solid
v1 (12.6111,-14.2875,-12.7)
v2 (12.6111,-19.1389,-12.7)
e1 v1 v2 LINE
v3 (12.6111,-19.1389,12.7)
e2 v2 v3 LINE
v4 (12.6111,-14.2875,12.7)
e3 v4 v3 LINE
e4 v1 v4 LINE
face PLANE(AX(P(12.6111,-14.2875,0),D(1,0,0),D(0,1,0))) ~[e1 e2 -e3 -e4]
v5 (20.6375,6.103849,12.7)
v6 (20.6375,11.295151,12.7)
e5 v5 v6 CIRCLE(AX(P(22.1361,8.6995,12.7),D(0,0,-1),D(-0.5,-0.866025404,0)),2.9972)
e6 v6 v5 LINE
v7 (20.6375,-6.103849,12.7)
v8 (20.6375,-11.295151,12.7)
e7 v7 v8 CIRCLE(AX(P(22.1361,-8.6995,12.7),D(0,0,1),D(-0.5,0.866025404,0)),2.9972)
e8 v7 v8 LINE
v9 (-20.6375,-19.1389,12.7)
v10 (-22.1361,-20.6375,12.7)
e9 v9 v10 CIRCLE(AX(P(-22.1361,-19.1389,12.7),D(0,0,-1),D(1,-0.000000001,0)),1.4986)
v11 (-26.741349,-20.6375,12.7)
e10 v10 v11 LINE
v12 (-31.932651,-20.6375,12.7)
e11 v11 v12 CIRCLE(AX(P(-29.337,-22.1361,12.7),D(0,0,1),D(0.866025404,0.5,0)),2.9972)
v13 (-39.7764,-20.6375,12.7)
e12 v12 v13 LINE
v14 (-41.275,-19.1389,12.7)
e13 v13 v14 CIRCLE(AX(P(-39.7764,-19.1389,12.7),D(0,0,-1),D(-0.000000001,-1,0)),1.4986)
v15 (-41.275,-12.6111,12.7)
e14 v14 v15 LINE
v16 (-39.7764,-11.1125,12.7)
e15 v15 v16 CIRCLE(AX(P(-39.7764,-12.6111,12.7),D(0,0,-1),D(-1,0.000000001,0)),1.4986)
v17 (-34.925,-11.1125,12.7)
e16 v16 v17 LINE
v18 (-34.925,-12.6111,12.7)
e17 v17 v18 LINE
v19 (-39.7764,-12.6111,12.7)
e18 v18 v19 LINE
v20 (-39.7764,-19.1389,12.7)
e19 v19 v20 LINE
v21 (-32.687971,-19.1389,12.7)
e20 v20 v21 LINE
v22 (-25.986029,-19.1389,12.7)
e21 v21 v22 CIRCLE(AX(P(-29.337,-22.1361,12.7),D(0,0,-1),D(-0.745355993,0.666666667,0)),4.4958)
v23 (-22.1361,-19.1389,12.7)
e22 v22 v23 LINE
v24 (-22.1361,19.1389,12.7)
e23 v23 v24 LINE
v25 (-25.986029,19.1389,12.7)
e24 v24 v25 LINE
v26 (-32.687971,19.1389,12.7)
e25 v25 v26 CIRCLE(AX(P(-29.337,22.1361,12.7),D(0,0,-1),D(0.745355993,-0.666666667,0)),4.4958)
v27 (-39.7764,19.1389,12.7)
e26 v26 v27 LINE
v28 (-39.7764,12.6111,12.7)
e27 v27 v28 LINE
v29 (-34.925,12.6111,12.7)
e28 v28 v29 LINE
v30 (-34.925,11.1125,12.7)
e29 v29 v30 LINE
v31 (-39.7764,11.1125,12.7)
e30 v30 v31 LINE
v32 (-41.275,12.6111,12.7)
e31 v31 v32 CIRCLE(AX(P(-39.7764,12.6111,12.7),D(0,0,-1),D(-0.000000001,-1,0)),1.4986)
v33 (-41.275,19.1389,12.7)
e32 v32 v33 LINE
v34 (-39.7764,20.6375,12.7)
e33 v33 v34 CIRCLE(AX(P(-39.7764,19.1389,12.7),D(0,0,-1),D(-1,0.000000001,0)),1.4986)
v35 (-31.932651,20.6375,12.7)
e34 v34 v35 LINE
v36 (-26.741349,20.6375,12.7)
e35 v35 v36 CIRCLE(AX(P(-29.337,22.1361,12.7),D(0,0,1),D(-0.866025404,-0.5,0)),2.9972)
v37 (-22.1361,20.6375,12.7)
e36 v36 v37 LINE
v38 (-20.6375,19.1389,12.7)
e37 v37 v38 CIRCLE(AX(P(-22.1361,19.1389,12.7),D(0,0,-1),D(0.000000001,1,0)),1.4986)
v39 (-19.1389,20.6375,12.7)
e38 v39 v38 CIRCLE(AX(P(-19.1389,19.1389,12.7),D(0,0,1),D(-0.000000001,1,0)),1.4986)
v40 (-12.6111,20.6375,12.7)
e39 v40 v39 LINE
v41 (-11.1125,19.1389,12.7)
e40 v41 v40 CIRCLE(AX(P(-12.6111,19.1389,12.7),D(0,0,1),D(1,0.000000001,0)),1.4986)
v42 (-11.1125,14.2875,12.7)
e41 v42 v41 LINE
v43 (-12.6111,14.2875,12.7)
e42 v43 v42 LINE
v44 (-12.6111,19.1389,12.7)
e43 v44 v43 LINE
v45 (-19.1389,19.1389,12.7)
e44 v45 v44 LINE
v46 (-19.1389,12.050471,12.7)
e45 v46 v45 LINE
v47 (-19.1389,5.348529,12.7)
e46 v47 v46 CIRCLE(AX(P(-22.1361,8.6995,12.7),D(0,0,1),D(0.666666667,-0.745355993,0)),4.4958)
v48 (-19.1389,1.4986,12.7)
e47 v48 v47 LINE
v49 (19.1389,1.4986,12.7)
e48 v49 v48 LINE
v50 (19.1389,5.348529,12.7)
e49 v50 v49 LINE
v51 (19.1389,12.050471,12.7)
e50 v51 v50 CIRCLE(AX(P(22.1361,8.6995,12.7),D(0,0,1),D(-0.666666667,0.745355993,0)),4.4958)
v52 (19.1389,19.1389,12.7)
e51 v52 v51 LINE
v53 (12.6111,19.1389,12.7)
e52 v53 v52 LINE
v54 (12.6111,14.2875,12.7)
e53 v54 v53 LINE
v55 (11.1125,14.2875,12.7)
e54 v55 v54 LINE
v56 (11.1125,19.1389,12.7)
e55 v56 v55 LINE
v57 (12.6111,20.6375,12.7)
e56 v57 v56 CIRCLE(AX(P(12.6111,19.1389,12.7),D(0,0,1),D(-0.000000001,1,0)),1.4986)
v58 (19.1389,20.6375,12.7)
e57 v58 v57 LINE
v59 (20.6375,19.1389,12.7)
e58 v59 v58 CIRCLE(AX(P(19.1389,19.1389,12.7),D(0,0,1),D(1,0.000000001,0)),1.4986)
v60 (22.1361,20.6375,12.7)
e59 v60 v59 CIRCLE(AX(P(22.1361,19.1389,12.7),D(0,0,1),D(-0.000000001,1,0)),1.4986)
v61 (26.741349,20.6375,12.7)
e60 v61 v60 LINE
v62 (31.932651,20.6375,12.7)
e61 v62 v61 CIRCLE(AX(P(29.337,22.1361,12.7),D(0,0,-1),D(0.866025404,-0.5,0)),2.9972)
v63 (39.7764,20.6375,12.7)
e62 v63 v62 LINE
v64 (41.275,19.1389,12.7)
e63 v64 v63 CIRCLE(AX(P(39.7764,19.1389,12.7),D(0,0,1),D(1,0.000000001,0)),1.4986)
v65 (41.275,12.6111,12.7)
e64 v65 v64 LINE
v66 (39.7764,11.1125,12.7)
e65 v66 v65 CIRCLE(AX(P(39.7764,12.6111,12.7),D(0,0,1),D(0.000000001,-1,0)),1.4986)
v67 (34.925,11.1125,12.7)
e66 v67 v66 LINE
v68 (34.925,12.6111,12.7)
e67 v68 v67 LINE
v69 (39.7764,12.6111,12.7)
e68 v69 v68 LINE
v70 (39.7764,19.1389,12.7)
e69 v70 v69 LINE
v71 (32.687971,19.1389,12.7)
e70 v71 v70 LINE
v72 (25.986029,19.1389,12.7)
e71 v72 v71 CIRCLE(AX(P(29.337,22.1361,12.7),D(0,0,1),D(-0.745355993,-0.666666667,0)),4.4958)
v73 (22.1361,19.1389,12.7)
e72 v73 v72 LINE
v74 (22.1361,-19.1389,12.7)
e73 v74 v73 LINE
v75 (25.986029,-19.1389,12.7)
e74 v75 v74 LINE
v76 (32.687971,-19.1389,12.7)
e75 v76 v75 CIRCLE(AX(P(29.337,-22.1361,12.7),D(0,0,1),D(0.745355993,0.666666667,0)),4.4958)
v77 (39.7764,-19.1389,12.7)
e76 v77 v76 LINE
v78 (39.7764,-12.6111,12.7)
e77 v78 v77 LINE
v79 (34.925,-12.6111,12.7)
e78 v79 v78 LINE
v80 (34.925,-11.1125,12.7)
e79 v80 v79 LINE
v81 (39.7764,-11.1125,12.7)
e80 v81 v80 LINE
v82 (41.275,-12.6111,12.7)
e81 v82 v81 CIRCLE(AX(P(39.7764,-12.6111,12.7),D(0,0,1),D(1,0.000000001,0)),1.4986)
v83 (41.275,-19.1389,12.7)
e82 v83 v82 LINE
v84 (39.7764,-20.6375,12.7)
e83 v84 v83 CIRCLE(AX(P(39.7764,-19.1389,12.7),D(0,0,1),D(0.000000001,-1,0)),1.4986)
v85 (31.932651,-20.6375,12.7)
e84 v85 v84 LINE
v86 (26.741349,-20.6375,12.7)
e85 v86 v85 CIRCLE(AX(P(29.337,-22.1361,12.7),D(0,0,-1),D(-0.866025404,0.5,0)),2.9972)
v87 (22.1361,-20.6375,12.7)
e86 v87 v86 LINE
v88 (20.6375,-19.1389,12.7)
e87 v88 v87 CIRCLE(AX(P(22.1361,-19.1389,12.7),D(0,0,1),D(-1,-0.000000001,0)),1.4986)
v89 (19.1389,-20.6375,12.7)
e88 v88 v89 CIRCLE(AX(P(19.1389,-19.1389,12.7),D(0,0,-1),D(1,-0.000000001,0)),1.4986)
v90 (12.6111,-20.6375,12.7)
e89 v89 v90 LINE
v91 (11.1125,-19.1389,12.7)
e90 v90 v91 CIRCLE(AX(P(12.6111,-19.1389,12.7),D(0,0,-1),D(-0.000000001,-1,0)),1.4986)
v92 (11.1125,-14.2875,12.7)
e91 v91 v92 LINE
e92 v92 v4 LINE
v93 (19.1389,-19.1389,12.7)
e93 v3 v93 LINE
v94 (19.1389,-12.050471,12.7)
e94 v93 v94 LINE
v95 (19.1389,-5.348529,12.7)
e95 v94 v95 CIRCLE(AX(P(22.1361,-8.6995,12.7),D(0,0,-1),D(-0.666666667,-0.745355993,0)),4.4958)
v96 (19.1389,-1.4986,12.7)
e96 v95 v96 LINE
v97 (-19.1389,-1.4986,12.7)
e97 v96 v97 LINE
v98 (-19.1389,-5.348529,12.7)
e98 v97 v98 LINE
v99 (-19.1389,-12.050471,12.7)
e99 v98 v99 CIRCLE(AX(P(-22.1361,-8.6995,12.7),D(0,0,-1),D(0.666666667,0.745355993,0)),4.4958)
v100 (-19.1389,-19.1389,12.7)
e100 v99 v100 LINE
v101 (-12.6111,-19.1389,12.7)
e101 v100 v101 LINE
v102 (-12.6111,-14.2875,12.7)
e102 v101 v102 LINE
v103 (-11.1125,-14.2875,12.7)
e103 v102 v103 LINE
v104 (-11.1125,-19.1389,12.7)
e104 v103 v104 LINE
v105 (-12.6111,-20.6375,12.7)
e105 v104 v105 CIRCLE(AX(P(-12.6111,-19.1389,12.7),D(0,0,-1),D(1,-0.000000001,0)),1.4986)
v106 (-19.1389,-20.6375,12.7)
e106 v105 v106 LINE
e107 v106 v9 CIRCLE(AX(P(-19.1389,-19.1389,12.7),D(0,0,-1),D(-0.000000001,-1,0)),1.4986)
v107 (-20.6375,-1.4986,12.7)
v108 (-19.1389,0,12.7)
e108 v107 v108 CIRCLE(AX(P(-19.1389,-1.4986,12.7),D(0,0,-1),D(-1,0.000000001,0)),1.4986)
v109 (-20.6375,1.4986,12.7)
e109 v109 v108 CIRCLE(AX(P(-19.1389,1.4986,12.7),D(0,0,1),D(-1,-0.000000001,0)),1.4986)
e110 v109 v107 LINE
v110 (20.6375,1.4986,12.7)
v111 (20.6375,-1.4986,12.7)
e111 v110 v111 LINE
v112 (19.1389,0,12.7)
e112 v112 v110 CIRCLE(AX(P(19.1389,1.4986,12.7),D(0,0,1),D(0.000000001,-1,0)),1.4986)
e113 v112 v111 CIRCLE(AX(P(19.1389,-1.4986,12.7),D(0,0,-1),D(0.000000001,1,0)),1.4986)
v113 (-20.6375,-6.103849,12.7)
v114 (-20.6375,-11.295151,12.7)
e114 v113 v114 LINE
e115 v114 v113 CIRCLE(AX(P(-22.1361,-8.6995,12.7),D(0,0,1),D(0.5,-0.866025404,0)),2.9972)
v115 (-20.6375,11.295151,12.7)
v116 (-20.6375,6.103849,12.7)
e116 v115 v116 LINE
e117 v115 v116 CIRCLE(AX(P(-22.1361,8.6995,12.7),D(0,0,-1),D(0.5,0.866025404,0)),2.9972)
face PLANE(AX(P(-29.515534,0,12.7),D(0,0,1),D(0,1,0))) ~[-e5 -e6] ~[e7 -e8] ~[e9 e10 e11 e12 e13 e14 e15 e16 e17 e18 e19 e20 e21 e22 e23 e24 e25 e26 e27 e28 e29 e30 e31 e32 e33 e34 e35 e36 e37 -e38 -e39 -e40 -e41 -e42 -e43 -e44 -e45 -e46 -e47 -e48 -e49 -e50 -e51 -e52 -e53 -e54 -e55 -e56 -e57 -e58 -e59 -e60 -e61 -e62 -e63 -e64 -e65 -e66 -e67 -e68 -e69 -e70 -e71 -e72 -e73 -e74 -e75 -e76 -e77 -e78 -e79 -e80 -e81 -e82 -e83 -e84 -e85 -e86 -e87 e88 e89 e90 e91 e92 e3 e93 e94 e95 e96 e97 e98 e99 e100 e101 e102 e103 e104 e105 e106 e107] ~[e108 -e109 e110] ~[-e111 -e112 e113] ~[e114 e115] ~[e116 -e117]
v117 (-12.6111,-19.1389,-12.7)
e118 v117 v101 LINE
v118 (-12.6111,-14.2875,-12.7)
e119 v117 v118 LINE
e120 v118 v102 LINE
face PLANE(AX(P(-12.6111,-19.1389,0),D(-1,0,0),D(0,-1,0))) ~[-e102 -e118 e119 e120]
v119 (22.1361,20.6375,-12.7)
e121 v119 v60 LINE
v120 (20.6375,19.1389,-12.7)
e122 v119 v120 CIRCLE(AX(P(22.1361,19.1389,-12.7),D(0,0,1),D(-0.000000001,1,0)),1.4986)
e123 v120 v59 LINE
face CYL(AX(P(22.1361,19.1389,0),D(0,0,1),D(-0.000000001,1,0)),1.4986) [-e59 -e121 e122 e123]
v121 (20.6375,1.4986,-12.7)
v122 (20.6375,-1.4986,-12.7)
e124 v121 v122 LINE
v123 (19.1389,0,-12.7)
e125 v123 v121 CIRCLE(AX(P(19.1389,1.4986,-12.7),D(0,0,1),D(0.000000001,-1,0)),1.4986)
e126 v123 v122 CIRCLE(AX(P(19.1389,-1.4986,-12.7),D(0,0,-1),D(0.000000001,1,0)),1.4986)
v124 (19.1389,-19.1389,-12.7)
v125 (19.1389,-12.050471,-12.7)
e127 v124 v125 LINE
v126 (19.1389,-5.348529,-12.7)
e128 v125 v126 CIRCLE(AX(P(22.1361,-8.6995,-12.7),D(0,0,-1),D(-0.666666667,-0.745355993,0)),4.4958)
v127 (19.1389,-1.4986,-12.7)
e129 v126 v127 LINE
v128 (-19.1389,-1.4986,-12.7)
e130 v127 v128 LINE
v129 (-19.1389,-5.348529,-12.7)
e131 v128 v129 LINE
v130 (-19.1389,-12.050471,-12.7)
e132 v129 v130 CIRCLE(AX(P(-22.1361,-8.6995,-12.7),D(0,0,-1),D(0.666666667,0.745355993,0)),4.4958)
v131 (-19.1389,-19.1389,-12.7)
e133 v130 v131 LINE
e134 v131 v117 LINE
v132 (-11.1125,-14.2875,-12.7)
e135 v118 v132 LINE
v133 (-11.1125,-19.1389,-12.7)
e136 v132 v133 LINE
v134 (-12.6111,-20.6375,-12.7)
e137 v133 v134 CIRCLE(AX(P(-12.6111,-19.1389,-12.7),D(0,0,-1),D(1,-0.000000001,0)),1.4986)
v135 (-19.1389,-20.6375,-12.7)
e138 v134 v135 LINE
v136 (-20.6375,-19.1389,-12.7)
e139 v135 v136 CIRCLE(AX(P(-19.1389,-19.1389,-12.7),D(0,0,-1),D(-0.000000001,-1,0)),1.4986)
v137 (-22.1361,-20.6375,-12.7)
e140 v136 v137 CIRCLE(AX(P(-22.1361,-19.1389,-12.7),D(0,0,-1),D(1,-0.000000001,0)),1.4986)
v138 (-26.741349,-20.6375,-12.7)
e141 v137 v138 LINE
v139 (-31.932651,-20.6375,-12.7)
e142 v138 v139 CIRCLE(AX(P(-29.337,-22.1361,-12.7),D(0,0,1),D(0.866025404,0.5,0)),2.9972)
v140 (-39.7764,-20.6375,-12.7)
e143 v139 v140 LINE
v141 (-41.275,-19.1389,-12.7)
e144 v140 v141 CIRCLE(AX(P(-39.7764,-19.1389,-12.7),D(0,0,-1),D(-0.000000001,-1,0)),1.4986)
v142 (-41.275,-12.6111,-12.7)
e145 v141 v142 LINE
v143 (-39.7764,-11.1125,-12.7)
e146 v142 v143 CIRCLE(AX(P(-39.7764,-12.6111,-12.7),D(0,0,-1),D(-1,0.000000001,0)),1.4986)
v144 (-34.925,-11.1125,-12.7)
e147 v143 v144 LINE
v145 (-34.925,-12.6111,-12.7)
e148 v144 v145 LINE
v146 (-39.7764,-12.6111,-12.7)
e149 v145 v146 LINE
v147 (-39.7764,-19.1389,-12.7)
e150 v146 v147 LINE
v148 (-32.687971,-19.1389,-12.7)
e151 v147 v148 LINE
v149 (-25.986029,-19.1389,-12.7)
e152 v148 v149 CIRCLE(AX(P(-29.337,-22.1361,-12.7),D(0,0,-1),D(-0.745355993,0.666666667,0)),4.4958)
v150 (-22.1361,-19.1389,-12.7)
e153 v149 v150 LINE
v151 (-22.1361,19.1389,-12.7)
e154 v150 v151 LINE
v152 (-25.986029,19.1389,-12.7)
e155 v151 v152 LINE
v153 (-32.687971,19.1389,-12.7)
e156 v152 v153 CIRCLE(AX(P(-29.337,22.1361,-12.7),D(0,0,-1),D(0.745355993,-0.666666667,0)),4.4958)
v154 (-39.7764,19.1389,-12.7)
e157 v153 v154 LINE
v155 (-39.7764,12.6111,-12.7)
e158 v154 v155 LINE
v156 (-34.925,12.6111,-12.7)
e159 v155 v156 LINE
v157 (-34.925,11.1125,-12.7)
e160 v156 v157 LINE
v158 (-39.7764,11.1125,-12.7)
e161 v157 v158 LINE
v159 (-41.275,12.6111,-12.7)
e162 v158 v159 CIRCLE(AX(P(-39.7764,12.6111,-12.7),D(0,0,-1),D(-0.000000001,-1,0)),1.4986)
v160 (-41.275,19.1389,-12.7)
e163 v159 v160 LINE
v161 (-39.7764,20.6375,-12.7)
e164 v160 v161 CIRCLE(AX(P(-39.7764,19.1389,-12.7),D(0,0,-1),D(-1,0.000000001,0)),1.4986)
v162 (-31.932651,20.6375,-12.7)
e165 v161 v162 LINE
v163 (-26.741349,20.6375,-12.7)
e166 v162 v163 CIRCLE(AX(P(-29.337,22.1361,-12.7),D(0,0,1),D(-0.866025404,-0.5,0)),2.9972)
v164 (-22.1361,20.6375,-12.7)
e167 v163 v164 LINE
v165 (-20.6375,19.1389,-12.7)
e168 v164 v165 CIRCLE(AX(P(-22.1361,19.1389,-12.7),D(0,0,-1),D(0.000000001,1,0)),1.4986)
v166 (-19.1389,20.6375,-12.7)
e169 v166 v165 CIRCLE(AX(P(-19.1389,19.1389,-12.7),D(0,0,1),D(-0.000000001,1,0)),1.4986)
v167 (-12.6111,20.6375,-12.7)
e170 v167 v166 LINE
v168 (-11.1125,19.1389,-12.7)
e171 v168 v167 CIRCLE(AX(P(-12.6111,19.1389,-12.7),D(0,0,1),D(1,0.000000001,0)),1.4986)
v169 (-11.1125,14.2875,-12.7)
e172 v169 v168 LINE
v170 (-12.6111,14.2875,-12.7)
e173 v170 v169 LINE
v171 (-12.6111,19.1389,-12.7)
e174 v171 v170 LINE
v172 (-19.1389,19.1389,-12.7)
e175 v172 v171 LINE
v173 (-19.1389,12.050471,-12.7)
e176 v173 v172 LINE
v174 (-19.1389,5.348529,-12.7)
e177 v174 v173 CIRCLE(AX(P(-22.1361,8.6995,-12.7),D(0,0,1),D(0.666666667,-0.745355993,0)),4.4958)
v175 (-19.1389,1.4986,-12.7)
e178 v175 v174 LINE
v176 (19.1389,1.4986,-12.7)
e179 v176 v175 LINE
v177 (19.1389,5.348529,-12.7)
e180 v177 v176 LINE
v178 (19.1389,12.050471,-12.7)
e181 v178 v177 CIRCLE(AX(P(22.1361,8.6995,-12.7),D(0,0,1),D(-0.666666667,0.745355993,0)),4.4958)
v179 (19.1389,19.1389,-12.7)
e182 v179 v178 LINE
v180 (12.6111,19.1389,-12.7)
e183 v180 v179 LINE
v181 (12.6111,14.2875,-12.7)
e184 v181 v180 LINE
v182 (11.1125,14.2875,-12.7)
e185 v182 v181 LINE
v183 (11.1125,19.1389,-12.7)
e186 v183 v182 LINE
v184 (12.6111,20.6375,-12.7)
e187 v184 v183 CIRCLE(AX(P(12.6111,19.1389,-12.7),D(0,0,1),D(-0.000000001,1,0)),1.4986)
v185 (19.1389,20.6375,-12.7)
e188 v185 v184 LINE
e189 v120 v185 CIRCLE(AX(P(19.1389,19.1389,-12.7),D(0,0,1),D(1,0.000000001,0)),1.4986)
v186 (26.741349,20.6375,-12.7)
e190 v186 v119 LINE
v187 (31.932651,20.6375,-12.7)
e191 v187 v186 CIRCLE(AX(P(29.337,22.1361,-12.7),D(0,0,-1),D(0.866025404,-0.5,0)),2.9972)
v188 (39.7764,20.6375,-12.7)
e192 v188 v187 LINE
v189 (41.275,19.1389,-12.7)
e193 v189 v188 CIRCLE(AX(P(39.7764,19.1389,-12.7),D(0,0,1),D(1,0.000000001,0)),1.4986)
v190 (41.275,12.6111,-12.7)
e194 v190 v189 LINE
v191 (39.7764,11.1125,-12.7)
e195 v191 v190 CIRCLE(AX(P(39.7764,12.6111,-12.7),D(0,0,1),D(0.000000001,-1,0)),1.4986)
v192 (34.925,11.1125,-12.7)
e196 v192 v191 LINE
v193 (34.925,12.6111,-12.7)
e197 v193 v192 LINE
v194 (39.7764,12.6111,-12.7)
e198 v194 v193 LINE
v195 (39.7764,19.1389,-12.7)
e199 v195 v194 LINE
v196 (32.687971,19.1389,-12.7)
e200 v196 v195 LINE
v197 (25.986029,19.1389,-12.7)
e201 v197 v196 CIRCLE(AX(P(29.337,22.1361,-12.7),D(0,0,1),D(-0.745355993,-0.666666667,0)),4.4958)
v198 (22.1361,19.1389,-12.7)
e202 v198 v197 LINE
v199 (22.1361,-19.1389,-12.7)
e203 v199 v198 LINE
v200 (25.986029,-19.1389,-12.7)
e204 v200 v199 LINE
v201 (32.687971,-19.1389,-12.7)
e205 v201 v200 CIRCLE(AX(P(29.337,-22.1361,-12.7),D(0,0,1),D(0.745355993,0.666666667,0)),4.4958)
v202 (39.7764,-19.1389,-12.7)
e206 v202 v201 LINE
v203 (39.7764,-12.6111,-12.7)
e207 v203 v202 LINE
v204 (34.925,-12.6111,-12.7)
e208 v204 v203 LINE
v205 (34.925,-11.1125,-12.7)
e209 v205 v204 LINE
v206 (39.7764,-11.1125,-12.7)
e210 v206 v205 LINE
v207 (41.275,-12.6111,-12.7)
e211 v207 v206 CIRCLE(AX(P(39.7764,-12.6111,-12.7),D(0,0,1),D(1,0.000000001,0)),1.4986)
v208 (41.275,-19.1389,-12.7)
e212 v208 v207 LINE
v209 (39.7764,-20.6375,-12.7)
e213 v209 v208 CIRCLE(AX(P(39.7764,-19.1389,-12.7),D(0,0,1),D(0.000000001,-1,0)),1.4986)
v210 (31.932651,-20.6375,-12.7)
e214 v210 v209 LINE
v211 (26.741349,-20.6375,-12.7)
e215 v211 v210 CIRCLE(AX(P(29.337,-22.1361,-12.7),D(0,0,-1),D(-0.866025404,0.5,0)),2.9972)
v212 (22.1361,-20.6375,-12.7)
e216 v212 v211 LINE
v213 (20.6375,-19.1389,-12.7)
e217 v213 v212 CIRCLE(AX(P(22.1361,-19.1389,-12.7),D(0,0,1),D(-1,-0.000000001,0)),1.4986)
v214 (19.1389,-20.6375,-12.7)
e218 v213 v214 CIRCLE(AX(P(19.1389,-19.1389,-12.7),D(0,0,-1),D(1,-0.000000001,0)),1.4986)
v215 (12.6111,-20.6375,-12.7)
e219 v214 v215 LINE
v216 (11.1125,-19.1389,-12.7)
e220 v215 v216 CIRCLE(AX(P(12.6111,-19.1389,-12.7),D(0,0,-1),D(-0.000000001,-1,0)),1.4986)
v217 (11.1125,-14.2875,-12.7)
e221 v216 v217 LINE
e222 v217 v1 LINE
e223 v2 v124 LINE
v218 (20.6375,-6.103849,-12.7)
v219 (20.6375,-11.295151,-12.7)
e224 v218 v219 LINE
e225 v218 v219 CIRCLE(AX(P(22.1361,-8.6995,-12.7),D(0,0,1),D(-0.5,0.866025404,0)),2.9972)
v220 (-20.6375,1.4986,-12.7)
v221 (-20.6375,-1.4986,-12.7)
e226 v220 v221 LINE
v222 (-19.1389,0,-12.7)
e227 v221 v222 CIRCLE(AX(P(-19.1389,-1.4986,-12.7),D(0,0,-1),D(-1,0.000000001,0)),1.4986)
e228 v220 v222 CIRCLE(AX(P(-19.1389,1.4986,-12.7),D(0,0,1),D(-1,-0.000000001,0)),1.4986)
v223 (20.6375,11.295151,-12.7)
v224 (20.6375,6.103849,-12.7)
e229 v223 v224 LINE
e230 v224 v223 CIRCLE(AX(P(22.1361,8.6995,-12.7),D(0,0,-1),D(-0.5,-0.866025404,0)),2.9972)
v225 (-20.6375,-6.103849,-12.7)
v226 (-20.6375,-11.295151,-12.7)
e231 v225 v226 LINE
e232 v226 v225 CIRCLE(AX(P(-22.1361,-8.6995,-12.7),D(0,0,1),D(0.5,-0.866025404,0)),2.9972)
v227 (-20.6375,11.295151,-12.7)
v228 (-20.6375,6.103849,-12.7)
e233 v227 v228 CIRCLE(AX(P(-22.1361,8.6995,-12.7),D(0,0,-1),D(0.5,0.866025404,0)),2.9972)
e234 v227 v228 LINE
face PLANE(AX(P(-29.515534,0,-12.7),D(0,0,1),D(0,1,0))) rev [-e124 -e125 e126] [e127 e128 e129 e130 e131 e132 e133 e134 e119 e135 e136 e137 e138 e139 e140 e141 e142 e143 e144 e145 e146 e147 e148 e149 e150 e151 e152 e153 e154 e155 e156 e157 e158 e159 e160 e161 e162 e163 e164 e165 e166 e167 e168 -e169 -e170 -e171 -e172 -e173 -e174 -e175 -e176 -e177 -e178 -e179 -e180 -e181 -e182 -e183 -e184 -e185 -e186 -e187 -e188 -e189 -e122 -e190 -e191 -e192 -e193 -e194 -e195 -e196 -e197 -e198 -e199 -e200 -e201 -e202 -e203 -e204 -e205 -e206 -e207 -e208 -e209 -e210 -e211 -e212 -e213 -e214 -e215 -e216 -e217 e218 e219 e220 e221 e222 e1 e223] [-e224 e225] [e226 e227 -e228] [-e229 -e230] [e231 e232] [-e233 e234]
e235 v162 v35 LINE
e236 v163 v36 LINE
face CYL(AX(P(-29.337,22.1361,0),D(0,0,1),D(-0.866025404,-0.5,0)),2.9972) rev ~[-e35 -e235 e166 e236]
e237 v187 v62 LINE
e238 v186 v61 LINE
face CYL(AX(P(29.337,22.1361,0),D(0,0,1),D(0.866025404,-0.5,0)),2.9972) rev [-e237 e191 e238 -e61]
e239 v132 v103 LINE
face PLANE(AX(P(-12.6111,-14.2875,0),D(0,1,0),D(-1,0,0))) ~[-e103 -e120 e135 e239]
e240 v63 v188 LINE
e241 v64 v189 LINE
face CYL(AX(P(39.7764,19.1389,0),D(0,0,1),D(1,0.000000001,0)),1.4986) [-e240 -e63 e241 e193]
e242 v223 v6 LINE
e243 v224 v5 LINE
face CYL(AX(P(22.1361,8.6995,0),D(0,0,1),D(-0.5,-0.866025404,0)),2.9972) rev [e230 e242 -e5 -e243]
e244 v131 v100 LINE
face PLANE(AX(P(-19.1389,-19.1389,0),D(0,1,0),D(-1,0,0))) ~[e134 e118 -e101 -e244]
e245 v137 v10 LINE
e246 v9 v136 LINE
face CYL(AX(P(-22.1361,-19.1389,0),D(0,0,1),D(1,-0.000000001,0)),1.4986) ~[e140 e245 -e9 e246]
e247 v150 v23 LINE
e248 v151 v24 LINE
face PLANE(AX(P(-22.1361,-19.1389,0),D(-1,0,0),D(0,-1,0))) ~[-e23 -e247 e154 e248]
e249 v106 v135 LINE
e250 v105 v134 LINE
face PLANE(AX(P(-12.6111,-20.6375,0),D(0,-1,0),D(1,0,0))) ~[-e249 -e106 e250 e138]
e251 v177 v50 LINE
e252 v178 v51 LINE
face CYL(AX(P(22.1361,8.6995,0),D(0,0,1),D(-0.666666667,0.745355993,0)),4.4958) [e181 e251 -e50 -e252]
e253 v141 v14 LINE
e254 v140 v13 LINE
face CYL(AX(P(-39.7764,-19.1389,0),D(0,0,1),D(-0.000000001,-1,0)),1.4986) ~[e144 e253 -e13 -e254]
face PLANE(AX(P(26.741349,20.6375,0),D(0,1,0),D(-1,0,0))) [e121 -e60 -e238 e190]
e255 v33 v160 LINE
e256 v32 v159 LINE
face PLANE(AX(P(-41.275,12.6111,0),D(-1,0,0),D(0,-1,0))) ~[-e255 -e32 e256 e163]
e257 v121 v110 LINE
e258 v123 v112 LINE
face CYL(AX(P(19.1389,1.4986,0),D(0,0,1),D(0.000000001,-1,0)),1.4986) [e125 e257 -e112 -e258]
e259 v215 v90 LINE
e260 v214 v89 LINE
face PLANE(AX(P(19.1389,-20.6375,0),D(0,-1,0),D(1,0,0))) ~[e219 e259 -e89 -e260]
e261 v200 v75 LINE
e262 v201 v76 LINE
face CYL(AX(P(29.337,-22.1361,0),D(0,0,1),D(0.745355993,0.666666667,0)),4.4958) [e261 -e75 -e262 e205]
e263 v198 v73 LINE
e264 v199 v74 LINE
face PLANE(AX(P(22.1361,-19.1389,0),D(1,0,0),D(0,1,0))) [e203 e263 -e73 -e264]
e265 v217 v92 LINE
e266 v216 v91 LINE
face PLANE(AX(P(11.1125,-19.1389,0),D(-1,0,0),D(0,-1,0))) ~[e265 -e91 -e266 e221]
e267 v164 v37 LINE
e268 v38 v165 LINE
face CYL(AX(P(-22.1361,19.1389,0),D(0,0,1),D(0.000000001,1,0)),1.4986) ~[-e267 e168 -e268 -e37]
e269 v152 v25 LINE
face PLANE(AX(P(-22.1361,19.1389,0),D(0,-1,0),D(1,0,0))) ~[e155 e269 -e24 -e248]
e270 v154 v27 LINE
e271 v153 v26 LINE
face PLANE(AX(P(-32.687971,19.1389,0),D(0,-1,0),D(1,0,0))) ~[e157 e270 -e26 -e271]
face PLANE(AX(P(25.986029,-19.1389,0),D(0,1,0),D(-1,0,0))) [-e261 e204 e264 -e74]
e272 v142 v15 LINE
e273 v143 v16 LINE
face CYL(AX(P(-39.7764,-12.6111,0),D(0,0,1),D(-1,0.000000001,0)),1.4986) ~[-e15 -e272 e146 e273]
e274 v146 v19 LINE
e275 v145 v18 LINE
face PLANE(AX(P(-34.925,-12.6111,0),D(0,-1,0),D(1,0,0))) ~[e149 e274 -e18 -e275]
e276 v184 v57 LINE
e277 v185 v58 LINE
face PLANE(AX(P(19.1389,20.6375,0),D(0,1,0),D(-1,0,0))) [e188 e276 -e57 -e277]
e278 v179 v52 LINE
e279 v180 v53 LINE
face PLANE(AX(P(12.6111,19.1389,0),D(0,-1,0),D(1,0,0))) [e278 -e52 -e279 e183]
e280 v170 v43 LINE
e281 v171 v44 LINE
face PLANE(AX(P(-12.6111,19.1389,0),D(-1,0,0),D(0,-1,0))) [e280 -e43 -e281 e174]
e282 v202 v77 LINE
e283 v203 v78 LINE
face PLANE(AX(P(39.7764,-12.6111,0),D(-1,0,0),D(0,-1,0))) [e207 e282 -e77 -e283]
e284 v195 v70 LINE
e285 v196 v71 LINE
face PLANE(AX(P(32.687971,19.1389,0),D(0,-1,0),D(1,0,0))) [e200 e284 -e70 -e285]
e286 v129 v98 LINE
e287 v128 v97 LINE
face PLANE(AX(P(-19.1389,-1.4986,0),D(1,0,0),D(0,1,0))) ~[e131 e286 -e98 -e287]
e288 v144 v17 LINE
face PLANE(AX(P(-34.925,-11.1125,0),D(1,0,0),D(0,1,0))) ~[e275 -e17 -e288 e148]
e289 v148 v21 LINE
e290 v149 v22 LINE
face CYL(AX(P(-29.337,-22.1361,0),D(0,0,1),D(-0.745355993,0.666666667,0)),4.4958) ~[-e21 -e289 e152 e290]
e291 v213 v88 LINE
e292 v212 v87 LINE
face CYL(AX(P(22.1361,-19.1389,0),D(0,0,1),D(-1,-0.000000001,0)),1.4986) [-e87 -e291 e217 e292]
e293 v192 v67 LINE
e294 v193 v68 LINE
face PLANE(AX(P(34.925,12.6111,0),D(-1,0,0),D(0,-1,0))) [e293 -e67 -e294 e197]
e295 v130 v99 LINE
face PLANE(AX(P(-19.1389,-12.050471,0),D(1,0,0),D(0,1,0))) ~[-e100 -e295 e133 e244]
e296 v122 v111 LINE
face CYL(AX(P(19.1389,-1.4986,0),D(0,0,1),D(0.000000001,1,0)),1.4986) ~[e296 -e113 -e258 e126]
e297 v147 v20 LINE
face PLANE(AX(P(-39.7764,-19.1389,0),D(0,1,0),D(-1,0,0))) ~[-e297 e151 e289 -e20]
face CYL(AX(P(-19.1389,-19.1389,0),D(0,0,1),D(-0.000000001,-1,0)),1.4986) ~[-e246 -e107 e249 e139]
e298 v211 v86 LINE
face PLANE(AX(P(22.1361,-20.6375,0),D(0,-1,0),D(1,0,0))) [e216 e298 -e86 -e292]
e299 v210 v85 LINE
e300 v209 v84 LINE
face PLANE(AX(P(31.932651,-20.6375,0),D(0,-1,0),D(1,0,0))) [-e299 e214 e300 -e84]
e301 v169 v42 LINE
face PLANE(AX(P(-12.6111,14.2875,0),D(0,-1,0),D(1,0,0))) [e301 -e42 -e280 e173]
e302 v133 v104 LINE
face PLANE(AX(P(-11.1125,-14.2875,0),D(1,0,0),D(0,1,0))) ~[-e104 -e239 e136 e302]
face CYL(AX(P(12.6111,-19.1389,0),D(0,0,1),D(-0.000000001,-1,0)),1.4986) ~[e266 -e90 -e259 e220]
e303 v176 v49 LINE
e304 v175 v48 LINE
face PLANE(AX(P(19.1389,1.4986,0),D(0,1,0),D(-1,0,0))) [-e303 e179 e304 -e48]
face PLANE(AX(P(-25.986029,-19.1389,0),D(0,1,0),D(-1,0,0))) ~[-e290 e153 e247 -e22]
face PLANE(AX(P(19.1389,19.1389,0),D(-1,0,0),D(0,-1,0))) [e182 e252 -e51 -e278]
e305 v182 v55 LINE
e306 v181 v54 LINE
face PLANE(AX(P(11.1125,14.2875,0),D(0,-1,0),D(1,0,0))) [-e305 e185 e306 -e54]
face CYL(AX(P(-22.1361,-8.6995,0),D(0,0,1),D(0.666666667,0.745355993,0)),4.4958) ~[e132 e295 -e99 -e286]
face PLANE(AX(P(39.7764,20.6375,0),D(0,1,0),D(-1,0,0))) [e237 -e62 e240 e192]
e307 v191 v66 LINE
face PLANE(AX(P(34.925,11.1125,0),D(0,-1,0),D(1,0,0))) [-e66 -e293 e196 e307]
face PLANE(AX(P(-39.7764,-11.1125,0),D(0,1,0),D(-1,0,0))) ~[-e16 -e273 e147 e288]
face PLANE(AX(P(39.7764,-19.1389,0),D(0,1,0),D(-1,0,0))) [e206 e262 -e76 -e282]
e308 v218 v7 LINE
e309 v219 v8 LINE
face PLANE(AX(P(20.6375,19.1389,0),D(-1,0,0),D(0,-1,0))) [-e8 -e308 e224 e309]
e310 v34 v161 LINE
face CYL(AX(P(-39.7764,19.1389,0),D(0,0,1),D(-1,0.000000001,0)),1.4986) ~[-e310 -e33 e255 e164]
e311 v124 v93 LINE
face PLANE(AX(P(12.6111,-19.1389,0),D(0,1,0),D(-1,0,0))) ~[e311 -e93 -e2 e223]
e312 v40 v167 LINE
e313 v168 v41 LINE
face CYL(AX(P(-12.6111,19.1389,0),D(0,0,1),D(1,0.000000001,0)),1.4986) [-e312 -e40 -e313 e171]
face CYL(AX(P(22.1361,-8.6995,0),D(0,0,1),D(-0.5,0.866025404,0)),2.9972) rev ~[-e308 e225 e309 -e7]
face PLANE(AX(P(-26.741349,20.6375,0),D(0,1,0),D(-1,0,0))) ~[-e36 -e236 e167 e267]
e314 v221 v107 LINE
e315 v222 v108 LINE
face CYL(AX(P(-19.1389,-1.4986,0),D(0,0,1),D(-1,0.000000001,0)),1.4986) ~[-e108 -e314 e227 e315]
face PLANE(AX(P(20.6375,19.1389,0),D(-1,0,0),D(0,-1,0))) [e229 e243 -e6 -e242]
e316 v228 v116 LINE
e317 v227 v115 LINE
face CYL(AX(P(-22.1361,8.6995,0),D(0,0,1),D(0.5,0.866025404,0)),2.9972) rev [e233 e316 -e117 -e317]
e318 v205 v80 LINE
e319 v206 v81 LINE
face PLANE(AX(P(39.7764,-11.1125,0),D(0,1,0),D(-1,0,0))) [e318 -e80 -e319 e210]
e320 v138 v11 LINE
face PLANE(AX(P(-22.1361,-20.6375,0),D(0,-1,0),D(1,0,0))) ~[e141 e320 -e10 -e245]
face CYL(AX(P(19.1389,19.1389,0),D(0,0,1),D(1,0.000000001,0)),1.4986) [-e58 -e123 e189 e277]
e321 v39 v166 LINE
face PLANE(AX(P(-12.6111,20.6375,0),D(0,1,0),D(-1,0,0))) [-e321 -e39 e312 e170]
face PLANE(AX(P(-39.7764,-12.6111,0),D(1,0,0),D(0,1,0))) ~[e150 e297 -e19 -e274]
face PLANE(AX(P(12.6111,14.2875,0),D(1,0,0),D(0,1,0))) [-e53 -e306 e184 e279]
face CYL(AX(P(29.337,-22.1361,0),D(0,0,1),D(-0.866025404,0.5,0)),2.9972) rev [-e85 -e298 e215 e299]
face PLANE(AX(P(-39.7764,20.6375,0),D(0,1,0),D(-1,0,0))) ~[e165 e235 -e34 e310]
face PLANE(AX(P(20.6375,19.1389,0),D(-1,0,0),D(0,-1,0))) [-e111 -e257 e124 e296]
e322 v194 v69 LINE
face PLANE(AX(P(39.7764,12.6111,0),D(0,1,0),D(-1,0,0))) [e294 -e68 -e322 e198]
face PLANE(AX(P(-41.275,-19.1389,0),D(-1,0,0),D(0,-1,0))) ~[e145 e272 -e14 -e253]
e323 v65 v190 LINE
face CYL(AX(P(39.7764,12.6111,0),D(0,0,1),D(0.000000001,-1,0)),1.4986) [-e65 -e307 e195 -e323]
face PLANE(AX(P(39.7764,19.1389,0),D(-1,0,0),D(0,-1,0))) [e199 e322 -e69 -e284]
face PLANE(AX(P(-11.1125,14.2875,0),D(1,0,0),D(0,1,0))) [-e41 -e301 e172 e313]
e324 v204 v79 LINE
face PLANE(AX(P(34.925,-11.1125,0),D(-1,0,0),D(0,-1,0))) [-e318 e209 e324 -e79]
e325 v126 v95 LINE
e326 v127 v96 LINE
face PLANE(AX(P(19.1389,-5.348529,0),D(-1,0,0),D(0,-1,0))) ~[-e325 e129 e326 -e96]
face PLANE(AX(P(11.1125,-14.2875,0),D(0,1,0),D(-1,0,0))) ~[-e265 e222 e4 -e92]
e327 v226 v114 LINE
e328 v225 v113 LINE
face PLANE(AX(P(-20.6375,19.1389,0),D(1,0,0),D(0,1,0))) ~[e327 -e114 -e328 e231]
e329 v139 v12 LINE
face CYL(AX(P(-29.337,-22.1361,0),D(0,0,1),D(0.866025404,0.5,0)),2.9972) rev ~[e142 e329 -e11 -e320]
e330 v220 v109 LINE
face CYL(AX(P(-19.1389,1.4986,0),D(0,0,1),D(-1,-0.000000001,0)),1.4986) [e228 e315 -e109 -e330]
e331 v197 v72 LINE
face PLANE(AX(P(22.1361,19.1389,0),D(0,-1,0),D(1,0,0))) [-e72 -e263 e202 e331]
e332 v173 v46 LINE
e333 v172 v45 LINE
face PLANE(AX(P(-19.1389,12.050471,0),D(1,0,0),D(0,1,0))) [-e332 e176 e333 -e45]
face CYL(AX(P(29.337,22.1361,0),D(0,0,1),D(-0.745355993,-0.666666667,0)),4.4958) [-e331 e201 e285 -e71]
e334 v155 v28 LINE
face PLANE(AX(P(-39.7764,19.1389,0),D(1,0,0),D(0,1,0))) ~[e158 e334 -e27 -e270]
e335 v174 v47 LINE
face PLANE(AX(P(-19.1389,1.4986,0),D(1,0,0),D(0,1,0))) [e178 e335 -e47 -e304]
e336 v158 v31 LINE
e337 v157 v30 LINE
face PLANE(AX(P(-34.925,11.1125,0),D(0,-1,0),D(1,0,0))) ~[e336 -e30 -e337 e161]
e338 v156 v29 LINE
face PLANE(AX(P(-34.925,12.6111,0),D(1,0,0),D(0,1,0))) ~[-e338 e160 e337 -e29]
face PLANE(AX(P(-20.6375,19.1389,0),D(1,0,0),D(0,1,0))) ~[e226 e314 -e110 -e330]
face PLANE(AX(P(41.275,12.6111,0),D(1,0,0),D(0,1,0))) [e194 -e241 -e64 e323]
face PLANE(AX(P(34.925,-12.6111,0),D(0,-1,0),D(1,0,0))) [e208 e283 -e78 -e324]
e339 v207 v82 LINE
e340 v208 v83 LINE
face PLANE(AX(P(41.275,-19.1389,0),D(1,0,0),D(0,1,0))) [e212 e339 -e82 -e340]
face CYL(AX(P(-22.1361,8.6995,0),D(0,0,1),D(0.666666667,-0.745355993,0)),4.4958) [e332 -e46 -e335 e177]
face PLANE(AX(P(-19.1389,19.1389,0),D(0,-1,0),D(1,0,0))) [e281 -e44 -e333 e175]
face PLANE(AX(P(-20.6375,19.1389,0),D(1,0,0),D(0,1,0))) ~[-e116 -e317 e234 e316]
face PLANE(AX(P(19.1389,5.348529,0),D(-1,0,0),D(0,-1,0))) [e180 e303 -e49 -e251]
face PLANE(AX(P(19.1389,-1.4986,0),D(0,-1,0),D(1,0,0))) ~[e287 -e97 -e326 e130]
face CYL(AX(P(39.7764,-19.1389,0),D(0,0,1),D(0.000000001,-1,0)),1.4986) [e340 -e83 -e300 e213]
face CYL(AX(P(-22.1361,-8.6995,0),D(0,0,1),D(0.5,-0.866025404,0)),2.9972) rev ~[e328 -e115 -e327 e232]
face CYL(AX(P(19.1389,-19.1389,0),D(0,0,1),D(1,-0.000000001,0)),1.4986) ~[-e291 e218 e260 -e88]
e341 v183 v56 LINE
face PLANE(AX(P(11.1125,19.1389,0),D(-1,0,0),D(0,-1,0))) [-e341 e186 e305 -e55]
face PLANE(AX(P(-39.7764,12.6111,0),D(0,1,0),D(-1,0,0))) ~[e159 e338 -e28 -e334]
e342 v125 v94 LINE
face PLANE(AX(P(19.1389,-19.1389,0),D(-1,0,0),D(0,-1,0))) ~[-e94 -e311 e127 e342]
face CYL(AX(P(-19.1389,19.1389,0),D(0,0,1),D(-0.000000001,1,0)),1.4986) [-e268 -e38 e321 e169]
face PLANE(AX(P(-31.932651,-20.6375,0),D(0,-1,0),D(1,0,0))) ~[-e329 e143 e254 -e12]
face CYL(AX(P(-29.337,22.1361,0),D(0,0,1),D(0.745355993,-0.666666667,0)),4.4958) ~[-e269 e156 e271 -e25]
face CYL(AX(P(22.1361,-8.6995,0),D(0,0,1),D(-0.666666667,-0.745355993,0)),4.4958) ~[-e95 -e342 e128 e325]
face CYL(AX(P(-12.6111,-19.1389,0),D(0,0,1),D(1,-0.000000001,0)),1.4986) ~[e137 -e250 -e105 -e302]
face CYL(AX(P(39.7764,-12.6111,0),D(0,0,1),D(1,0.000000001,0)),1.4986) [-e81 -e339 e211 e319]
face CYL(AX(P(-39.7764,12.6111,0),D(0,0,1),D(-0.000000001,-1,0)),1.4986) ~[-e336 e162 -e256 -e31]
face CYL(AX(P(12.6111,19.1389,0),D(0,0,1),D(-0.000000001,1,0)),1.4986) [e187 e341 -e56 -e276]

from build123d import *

# Parameters (mm, degrees)
BASE_EXTRUDE_DEPTH  = 12.7
BOSS_EXTRUDE1_DEPTH = 12.7


with BuildPart() as part:
    # Sketch1 → Base-Extrude (new, symmetric)
    with BuildSketch(Plane.XY):
        with BuildLine():
            Line((-20.6375, 19.1389), (-20.6375, 11.29515134))
            ThreePointArc((-20.6375, 11.29515134), (-19.1389, 8.6995), (-20.6375, 6.10384866))
            Line((-20.6375, 6.10384866), (-20.6375, 1.4986))
            ThreePointArc((-20.6375, 1.4986), (-20.198570222, 0.438929778), (-19.1389, 0))
            Line((-19.1389, 0), (19.1389, 0))
            ThreePointArc((19.1389, 0), (20.198570222, 0.438929778), (20.6375, 1.4986))
            Line((20.6375, 1.4986), (20.6375, 6.10384866))
            ThreePointArc((20.6375, 6.10384866), (19.1389, 8.6995), (20.6375, 11.29515134))
            Line((20.6375, 11.29515134), (20.6375, 19.1389))
            ThreePointArc((20.6375, 19.1389), (20.198570222, 20.198570222), (19.1389, 20.6375))
            Line((19.1389, 20.6375), (12.6111, 20.6375))
            ThreePointArc((12.6111, 20.6375), (11.551429778, 20.198570222), (11.1125, 19.1389))
            Line((11.1125, 19.1389), (11.1125, 14.2875))
            Line((11.1125, 14.2875), (12.6111, 14.2875))
            Line((12.6111, 14.2875), (12.6111, 19.1389))
            Line((12.6111, 19.1389), (19.1389, 19.1389))
            Line((19.1389, 19.1389), (19.1389, 12.050471471))
            ThreePointArc((19.1389, 12.050471471), (17.6403, 8.6995), (19.1389, 5.348528529))
            Line((19.1389, 5.348528529), (19.1389, 1.4986))
            Line((19.1389, 1.4986), (-19.1389, 1.4986))
            Line((-19.1389, 1.4986), (-19.1389, 5.348528529))
            ThreePointArc((-19.1389, 5.348528529), (-17.6403, 8.6995), (-19.1389, 12.050471471))
            Line((-19.1389, 12.050471471), (-19.1389, 19.1389))
            Line((-19.1389, 19.1389), (-12.6111, 19.1389))
            Line((-12.6111, 19.1389), (-12.6111, 14.2875))
            Line((-12.6111, 14.2875), (-11.1125, 14.2875))
            Line((-11.1125, 14.2875), (-11.1125, 19.1389))
            ThreePointArc((-11.1125, 19.1389), (-11.551429778, 20.198570222), (-12.6111, 20.6375))
            Line((-12.6111, 20.6375), (-19.1389, 20.6375))
            ThreePointArc((-19.1389, 20.6375), (-20.198570222, 20.198570222), (-20.6375, 19.1389))
        make_face()
    base_extrude = extrude(amount=BASE_EXTRUDE_DEPTH, both=True)

    # Mirror1: Base-Extrude across plane
    add(base_extrude.mirror(Plane.ZX))

    # Sketch2 → Boss-Extrude1 (add, symmetric)
    with BuildSketch(Plane(origin=(20.16125, 0.15875, 0), x_dir=(0, -1, 0), z_dir=(0, 0, 1))):
        with BuildLine():
            Line((-20.47875, 19.61515), (-20.47875, 11.77140134))
            ThreePointArc((-20.47875, 11.77140134), (-18.98015, 9.17575), (-20.47875, 6.58009866))
            Line((-20.47875, 6.58009866), (-20.47875, 1.97485))
            ThreePointArc((-20.47875, 1.97485), (-20.039820222, 0.915179778), (-18.98015, 0.47625))
            Line((-18.98015, 0.47625), (19.29765, 0.47625))
            ThreePointArc((19.29765, 0.47625), (20.357320222, 0.915179778), (20.79625, 1.97485))
            Line((20.79625, 1.97485), (20.79625, 6.58009866))
            ThreePointArc((20.79625, 6.58009866), (19.29765, 9.17575), (20.79625, 11.77140134))
            Line((20.79625, 11.77140134), (20.79625, 19.61515))
            ThreePointArc((20.79625, 19.61515), (20.357320222, 20.674820222), (19.29765, 21.11375))
            Line((19.29765, 21.11375), (12.76985, 21.11375))
            ThreePointArc((12.76985, 21.11375), (11.710179778, 20.674820222), (11.27125, 19.61515))
            Line((11.27125, 19.61515), (11.27125, 14.76375))
            Line((11.27125, 14.76375), (12.76985, 14.76375))
            Line((12.76985, 14.76375), (12.76985, 19.61515))
            Line((12.76985, 19.61515), (19.29765, 19.61515))
            Line((19.29765, 19.61515), (19.29765, 12.526721471))
            ThreePointArc((19.29765, 12.526721471), (17.79905, 9.17575), (19.29765, 5.824778529))
            Line((19.29765, 5.824778529), (19.29765, 1.97485))
            Line((19.29765, 1.97485), (-18.98015, 1.97485))
            Line((-18.98015, 1.97485), (-18.98015, 5.824778529))
            ThreePointArc((-18.98015, 5.824778529), (-17.48155, 9.17575), (-18.98015, 12.526721471))
            Line((-18.98015, 12.526721471), (-18.98015, 19.61515))
            Line((-18.98015, 19.61515), (-12.45235, 19.61515))
            Line((-12.45235, 19.61515), (-12.45235, 14.76375))
            Line((-12.45235, 14.76375), (-10.95375, 14.76375))
            Line((-10.95375, 14.76375), (-10.95375, 19.61515))
            ThreePointArc((-10.95375, 19.61515), (-11.392679778, 20.674820222), (-12.45235, 21.11375))
            Line((-12.45235, 21.11375), (-18.98015, 21.11375))
            ThreePointArc((-18.98015, 21.11375), (-20.039820222, 20.674820222), (-20.47875, 19.61515))
        make_face()
    boss_extrude1 = extrude(amount=BOSS_EXTRUDE1_DEPTH, both=True)

    # Mirror2: Boss-Extrude1 across plane
    add(boss_extrude1.mirror(Plane(origin=(0, 0, 0), x_dir=(0, 0, 1), z_dir=(1, 0, 0))))


solid = part.part
